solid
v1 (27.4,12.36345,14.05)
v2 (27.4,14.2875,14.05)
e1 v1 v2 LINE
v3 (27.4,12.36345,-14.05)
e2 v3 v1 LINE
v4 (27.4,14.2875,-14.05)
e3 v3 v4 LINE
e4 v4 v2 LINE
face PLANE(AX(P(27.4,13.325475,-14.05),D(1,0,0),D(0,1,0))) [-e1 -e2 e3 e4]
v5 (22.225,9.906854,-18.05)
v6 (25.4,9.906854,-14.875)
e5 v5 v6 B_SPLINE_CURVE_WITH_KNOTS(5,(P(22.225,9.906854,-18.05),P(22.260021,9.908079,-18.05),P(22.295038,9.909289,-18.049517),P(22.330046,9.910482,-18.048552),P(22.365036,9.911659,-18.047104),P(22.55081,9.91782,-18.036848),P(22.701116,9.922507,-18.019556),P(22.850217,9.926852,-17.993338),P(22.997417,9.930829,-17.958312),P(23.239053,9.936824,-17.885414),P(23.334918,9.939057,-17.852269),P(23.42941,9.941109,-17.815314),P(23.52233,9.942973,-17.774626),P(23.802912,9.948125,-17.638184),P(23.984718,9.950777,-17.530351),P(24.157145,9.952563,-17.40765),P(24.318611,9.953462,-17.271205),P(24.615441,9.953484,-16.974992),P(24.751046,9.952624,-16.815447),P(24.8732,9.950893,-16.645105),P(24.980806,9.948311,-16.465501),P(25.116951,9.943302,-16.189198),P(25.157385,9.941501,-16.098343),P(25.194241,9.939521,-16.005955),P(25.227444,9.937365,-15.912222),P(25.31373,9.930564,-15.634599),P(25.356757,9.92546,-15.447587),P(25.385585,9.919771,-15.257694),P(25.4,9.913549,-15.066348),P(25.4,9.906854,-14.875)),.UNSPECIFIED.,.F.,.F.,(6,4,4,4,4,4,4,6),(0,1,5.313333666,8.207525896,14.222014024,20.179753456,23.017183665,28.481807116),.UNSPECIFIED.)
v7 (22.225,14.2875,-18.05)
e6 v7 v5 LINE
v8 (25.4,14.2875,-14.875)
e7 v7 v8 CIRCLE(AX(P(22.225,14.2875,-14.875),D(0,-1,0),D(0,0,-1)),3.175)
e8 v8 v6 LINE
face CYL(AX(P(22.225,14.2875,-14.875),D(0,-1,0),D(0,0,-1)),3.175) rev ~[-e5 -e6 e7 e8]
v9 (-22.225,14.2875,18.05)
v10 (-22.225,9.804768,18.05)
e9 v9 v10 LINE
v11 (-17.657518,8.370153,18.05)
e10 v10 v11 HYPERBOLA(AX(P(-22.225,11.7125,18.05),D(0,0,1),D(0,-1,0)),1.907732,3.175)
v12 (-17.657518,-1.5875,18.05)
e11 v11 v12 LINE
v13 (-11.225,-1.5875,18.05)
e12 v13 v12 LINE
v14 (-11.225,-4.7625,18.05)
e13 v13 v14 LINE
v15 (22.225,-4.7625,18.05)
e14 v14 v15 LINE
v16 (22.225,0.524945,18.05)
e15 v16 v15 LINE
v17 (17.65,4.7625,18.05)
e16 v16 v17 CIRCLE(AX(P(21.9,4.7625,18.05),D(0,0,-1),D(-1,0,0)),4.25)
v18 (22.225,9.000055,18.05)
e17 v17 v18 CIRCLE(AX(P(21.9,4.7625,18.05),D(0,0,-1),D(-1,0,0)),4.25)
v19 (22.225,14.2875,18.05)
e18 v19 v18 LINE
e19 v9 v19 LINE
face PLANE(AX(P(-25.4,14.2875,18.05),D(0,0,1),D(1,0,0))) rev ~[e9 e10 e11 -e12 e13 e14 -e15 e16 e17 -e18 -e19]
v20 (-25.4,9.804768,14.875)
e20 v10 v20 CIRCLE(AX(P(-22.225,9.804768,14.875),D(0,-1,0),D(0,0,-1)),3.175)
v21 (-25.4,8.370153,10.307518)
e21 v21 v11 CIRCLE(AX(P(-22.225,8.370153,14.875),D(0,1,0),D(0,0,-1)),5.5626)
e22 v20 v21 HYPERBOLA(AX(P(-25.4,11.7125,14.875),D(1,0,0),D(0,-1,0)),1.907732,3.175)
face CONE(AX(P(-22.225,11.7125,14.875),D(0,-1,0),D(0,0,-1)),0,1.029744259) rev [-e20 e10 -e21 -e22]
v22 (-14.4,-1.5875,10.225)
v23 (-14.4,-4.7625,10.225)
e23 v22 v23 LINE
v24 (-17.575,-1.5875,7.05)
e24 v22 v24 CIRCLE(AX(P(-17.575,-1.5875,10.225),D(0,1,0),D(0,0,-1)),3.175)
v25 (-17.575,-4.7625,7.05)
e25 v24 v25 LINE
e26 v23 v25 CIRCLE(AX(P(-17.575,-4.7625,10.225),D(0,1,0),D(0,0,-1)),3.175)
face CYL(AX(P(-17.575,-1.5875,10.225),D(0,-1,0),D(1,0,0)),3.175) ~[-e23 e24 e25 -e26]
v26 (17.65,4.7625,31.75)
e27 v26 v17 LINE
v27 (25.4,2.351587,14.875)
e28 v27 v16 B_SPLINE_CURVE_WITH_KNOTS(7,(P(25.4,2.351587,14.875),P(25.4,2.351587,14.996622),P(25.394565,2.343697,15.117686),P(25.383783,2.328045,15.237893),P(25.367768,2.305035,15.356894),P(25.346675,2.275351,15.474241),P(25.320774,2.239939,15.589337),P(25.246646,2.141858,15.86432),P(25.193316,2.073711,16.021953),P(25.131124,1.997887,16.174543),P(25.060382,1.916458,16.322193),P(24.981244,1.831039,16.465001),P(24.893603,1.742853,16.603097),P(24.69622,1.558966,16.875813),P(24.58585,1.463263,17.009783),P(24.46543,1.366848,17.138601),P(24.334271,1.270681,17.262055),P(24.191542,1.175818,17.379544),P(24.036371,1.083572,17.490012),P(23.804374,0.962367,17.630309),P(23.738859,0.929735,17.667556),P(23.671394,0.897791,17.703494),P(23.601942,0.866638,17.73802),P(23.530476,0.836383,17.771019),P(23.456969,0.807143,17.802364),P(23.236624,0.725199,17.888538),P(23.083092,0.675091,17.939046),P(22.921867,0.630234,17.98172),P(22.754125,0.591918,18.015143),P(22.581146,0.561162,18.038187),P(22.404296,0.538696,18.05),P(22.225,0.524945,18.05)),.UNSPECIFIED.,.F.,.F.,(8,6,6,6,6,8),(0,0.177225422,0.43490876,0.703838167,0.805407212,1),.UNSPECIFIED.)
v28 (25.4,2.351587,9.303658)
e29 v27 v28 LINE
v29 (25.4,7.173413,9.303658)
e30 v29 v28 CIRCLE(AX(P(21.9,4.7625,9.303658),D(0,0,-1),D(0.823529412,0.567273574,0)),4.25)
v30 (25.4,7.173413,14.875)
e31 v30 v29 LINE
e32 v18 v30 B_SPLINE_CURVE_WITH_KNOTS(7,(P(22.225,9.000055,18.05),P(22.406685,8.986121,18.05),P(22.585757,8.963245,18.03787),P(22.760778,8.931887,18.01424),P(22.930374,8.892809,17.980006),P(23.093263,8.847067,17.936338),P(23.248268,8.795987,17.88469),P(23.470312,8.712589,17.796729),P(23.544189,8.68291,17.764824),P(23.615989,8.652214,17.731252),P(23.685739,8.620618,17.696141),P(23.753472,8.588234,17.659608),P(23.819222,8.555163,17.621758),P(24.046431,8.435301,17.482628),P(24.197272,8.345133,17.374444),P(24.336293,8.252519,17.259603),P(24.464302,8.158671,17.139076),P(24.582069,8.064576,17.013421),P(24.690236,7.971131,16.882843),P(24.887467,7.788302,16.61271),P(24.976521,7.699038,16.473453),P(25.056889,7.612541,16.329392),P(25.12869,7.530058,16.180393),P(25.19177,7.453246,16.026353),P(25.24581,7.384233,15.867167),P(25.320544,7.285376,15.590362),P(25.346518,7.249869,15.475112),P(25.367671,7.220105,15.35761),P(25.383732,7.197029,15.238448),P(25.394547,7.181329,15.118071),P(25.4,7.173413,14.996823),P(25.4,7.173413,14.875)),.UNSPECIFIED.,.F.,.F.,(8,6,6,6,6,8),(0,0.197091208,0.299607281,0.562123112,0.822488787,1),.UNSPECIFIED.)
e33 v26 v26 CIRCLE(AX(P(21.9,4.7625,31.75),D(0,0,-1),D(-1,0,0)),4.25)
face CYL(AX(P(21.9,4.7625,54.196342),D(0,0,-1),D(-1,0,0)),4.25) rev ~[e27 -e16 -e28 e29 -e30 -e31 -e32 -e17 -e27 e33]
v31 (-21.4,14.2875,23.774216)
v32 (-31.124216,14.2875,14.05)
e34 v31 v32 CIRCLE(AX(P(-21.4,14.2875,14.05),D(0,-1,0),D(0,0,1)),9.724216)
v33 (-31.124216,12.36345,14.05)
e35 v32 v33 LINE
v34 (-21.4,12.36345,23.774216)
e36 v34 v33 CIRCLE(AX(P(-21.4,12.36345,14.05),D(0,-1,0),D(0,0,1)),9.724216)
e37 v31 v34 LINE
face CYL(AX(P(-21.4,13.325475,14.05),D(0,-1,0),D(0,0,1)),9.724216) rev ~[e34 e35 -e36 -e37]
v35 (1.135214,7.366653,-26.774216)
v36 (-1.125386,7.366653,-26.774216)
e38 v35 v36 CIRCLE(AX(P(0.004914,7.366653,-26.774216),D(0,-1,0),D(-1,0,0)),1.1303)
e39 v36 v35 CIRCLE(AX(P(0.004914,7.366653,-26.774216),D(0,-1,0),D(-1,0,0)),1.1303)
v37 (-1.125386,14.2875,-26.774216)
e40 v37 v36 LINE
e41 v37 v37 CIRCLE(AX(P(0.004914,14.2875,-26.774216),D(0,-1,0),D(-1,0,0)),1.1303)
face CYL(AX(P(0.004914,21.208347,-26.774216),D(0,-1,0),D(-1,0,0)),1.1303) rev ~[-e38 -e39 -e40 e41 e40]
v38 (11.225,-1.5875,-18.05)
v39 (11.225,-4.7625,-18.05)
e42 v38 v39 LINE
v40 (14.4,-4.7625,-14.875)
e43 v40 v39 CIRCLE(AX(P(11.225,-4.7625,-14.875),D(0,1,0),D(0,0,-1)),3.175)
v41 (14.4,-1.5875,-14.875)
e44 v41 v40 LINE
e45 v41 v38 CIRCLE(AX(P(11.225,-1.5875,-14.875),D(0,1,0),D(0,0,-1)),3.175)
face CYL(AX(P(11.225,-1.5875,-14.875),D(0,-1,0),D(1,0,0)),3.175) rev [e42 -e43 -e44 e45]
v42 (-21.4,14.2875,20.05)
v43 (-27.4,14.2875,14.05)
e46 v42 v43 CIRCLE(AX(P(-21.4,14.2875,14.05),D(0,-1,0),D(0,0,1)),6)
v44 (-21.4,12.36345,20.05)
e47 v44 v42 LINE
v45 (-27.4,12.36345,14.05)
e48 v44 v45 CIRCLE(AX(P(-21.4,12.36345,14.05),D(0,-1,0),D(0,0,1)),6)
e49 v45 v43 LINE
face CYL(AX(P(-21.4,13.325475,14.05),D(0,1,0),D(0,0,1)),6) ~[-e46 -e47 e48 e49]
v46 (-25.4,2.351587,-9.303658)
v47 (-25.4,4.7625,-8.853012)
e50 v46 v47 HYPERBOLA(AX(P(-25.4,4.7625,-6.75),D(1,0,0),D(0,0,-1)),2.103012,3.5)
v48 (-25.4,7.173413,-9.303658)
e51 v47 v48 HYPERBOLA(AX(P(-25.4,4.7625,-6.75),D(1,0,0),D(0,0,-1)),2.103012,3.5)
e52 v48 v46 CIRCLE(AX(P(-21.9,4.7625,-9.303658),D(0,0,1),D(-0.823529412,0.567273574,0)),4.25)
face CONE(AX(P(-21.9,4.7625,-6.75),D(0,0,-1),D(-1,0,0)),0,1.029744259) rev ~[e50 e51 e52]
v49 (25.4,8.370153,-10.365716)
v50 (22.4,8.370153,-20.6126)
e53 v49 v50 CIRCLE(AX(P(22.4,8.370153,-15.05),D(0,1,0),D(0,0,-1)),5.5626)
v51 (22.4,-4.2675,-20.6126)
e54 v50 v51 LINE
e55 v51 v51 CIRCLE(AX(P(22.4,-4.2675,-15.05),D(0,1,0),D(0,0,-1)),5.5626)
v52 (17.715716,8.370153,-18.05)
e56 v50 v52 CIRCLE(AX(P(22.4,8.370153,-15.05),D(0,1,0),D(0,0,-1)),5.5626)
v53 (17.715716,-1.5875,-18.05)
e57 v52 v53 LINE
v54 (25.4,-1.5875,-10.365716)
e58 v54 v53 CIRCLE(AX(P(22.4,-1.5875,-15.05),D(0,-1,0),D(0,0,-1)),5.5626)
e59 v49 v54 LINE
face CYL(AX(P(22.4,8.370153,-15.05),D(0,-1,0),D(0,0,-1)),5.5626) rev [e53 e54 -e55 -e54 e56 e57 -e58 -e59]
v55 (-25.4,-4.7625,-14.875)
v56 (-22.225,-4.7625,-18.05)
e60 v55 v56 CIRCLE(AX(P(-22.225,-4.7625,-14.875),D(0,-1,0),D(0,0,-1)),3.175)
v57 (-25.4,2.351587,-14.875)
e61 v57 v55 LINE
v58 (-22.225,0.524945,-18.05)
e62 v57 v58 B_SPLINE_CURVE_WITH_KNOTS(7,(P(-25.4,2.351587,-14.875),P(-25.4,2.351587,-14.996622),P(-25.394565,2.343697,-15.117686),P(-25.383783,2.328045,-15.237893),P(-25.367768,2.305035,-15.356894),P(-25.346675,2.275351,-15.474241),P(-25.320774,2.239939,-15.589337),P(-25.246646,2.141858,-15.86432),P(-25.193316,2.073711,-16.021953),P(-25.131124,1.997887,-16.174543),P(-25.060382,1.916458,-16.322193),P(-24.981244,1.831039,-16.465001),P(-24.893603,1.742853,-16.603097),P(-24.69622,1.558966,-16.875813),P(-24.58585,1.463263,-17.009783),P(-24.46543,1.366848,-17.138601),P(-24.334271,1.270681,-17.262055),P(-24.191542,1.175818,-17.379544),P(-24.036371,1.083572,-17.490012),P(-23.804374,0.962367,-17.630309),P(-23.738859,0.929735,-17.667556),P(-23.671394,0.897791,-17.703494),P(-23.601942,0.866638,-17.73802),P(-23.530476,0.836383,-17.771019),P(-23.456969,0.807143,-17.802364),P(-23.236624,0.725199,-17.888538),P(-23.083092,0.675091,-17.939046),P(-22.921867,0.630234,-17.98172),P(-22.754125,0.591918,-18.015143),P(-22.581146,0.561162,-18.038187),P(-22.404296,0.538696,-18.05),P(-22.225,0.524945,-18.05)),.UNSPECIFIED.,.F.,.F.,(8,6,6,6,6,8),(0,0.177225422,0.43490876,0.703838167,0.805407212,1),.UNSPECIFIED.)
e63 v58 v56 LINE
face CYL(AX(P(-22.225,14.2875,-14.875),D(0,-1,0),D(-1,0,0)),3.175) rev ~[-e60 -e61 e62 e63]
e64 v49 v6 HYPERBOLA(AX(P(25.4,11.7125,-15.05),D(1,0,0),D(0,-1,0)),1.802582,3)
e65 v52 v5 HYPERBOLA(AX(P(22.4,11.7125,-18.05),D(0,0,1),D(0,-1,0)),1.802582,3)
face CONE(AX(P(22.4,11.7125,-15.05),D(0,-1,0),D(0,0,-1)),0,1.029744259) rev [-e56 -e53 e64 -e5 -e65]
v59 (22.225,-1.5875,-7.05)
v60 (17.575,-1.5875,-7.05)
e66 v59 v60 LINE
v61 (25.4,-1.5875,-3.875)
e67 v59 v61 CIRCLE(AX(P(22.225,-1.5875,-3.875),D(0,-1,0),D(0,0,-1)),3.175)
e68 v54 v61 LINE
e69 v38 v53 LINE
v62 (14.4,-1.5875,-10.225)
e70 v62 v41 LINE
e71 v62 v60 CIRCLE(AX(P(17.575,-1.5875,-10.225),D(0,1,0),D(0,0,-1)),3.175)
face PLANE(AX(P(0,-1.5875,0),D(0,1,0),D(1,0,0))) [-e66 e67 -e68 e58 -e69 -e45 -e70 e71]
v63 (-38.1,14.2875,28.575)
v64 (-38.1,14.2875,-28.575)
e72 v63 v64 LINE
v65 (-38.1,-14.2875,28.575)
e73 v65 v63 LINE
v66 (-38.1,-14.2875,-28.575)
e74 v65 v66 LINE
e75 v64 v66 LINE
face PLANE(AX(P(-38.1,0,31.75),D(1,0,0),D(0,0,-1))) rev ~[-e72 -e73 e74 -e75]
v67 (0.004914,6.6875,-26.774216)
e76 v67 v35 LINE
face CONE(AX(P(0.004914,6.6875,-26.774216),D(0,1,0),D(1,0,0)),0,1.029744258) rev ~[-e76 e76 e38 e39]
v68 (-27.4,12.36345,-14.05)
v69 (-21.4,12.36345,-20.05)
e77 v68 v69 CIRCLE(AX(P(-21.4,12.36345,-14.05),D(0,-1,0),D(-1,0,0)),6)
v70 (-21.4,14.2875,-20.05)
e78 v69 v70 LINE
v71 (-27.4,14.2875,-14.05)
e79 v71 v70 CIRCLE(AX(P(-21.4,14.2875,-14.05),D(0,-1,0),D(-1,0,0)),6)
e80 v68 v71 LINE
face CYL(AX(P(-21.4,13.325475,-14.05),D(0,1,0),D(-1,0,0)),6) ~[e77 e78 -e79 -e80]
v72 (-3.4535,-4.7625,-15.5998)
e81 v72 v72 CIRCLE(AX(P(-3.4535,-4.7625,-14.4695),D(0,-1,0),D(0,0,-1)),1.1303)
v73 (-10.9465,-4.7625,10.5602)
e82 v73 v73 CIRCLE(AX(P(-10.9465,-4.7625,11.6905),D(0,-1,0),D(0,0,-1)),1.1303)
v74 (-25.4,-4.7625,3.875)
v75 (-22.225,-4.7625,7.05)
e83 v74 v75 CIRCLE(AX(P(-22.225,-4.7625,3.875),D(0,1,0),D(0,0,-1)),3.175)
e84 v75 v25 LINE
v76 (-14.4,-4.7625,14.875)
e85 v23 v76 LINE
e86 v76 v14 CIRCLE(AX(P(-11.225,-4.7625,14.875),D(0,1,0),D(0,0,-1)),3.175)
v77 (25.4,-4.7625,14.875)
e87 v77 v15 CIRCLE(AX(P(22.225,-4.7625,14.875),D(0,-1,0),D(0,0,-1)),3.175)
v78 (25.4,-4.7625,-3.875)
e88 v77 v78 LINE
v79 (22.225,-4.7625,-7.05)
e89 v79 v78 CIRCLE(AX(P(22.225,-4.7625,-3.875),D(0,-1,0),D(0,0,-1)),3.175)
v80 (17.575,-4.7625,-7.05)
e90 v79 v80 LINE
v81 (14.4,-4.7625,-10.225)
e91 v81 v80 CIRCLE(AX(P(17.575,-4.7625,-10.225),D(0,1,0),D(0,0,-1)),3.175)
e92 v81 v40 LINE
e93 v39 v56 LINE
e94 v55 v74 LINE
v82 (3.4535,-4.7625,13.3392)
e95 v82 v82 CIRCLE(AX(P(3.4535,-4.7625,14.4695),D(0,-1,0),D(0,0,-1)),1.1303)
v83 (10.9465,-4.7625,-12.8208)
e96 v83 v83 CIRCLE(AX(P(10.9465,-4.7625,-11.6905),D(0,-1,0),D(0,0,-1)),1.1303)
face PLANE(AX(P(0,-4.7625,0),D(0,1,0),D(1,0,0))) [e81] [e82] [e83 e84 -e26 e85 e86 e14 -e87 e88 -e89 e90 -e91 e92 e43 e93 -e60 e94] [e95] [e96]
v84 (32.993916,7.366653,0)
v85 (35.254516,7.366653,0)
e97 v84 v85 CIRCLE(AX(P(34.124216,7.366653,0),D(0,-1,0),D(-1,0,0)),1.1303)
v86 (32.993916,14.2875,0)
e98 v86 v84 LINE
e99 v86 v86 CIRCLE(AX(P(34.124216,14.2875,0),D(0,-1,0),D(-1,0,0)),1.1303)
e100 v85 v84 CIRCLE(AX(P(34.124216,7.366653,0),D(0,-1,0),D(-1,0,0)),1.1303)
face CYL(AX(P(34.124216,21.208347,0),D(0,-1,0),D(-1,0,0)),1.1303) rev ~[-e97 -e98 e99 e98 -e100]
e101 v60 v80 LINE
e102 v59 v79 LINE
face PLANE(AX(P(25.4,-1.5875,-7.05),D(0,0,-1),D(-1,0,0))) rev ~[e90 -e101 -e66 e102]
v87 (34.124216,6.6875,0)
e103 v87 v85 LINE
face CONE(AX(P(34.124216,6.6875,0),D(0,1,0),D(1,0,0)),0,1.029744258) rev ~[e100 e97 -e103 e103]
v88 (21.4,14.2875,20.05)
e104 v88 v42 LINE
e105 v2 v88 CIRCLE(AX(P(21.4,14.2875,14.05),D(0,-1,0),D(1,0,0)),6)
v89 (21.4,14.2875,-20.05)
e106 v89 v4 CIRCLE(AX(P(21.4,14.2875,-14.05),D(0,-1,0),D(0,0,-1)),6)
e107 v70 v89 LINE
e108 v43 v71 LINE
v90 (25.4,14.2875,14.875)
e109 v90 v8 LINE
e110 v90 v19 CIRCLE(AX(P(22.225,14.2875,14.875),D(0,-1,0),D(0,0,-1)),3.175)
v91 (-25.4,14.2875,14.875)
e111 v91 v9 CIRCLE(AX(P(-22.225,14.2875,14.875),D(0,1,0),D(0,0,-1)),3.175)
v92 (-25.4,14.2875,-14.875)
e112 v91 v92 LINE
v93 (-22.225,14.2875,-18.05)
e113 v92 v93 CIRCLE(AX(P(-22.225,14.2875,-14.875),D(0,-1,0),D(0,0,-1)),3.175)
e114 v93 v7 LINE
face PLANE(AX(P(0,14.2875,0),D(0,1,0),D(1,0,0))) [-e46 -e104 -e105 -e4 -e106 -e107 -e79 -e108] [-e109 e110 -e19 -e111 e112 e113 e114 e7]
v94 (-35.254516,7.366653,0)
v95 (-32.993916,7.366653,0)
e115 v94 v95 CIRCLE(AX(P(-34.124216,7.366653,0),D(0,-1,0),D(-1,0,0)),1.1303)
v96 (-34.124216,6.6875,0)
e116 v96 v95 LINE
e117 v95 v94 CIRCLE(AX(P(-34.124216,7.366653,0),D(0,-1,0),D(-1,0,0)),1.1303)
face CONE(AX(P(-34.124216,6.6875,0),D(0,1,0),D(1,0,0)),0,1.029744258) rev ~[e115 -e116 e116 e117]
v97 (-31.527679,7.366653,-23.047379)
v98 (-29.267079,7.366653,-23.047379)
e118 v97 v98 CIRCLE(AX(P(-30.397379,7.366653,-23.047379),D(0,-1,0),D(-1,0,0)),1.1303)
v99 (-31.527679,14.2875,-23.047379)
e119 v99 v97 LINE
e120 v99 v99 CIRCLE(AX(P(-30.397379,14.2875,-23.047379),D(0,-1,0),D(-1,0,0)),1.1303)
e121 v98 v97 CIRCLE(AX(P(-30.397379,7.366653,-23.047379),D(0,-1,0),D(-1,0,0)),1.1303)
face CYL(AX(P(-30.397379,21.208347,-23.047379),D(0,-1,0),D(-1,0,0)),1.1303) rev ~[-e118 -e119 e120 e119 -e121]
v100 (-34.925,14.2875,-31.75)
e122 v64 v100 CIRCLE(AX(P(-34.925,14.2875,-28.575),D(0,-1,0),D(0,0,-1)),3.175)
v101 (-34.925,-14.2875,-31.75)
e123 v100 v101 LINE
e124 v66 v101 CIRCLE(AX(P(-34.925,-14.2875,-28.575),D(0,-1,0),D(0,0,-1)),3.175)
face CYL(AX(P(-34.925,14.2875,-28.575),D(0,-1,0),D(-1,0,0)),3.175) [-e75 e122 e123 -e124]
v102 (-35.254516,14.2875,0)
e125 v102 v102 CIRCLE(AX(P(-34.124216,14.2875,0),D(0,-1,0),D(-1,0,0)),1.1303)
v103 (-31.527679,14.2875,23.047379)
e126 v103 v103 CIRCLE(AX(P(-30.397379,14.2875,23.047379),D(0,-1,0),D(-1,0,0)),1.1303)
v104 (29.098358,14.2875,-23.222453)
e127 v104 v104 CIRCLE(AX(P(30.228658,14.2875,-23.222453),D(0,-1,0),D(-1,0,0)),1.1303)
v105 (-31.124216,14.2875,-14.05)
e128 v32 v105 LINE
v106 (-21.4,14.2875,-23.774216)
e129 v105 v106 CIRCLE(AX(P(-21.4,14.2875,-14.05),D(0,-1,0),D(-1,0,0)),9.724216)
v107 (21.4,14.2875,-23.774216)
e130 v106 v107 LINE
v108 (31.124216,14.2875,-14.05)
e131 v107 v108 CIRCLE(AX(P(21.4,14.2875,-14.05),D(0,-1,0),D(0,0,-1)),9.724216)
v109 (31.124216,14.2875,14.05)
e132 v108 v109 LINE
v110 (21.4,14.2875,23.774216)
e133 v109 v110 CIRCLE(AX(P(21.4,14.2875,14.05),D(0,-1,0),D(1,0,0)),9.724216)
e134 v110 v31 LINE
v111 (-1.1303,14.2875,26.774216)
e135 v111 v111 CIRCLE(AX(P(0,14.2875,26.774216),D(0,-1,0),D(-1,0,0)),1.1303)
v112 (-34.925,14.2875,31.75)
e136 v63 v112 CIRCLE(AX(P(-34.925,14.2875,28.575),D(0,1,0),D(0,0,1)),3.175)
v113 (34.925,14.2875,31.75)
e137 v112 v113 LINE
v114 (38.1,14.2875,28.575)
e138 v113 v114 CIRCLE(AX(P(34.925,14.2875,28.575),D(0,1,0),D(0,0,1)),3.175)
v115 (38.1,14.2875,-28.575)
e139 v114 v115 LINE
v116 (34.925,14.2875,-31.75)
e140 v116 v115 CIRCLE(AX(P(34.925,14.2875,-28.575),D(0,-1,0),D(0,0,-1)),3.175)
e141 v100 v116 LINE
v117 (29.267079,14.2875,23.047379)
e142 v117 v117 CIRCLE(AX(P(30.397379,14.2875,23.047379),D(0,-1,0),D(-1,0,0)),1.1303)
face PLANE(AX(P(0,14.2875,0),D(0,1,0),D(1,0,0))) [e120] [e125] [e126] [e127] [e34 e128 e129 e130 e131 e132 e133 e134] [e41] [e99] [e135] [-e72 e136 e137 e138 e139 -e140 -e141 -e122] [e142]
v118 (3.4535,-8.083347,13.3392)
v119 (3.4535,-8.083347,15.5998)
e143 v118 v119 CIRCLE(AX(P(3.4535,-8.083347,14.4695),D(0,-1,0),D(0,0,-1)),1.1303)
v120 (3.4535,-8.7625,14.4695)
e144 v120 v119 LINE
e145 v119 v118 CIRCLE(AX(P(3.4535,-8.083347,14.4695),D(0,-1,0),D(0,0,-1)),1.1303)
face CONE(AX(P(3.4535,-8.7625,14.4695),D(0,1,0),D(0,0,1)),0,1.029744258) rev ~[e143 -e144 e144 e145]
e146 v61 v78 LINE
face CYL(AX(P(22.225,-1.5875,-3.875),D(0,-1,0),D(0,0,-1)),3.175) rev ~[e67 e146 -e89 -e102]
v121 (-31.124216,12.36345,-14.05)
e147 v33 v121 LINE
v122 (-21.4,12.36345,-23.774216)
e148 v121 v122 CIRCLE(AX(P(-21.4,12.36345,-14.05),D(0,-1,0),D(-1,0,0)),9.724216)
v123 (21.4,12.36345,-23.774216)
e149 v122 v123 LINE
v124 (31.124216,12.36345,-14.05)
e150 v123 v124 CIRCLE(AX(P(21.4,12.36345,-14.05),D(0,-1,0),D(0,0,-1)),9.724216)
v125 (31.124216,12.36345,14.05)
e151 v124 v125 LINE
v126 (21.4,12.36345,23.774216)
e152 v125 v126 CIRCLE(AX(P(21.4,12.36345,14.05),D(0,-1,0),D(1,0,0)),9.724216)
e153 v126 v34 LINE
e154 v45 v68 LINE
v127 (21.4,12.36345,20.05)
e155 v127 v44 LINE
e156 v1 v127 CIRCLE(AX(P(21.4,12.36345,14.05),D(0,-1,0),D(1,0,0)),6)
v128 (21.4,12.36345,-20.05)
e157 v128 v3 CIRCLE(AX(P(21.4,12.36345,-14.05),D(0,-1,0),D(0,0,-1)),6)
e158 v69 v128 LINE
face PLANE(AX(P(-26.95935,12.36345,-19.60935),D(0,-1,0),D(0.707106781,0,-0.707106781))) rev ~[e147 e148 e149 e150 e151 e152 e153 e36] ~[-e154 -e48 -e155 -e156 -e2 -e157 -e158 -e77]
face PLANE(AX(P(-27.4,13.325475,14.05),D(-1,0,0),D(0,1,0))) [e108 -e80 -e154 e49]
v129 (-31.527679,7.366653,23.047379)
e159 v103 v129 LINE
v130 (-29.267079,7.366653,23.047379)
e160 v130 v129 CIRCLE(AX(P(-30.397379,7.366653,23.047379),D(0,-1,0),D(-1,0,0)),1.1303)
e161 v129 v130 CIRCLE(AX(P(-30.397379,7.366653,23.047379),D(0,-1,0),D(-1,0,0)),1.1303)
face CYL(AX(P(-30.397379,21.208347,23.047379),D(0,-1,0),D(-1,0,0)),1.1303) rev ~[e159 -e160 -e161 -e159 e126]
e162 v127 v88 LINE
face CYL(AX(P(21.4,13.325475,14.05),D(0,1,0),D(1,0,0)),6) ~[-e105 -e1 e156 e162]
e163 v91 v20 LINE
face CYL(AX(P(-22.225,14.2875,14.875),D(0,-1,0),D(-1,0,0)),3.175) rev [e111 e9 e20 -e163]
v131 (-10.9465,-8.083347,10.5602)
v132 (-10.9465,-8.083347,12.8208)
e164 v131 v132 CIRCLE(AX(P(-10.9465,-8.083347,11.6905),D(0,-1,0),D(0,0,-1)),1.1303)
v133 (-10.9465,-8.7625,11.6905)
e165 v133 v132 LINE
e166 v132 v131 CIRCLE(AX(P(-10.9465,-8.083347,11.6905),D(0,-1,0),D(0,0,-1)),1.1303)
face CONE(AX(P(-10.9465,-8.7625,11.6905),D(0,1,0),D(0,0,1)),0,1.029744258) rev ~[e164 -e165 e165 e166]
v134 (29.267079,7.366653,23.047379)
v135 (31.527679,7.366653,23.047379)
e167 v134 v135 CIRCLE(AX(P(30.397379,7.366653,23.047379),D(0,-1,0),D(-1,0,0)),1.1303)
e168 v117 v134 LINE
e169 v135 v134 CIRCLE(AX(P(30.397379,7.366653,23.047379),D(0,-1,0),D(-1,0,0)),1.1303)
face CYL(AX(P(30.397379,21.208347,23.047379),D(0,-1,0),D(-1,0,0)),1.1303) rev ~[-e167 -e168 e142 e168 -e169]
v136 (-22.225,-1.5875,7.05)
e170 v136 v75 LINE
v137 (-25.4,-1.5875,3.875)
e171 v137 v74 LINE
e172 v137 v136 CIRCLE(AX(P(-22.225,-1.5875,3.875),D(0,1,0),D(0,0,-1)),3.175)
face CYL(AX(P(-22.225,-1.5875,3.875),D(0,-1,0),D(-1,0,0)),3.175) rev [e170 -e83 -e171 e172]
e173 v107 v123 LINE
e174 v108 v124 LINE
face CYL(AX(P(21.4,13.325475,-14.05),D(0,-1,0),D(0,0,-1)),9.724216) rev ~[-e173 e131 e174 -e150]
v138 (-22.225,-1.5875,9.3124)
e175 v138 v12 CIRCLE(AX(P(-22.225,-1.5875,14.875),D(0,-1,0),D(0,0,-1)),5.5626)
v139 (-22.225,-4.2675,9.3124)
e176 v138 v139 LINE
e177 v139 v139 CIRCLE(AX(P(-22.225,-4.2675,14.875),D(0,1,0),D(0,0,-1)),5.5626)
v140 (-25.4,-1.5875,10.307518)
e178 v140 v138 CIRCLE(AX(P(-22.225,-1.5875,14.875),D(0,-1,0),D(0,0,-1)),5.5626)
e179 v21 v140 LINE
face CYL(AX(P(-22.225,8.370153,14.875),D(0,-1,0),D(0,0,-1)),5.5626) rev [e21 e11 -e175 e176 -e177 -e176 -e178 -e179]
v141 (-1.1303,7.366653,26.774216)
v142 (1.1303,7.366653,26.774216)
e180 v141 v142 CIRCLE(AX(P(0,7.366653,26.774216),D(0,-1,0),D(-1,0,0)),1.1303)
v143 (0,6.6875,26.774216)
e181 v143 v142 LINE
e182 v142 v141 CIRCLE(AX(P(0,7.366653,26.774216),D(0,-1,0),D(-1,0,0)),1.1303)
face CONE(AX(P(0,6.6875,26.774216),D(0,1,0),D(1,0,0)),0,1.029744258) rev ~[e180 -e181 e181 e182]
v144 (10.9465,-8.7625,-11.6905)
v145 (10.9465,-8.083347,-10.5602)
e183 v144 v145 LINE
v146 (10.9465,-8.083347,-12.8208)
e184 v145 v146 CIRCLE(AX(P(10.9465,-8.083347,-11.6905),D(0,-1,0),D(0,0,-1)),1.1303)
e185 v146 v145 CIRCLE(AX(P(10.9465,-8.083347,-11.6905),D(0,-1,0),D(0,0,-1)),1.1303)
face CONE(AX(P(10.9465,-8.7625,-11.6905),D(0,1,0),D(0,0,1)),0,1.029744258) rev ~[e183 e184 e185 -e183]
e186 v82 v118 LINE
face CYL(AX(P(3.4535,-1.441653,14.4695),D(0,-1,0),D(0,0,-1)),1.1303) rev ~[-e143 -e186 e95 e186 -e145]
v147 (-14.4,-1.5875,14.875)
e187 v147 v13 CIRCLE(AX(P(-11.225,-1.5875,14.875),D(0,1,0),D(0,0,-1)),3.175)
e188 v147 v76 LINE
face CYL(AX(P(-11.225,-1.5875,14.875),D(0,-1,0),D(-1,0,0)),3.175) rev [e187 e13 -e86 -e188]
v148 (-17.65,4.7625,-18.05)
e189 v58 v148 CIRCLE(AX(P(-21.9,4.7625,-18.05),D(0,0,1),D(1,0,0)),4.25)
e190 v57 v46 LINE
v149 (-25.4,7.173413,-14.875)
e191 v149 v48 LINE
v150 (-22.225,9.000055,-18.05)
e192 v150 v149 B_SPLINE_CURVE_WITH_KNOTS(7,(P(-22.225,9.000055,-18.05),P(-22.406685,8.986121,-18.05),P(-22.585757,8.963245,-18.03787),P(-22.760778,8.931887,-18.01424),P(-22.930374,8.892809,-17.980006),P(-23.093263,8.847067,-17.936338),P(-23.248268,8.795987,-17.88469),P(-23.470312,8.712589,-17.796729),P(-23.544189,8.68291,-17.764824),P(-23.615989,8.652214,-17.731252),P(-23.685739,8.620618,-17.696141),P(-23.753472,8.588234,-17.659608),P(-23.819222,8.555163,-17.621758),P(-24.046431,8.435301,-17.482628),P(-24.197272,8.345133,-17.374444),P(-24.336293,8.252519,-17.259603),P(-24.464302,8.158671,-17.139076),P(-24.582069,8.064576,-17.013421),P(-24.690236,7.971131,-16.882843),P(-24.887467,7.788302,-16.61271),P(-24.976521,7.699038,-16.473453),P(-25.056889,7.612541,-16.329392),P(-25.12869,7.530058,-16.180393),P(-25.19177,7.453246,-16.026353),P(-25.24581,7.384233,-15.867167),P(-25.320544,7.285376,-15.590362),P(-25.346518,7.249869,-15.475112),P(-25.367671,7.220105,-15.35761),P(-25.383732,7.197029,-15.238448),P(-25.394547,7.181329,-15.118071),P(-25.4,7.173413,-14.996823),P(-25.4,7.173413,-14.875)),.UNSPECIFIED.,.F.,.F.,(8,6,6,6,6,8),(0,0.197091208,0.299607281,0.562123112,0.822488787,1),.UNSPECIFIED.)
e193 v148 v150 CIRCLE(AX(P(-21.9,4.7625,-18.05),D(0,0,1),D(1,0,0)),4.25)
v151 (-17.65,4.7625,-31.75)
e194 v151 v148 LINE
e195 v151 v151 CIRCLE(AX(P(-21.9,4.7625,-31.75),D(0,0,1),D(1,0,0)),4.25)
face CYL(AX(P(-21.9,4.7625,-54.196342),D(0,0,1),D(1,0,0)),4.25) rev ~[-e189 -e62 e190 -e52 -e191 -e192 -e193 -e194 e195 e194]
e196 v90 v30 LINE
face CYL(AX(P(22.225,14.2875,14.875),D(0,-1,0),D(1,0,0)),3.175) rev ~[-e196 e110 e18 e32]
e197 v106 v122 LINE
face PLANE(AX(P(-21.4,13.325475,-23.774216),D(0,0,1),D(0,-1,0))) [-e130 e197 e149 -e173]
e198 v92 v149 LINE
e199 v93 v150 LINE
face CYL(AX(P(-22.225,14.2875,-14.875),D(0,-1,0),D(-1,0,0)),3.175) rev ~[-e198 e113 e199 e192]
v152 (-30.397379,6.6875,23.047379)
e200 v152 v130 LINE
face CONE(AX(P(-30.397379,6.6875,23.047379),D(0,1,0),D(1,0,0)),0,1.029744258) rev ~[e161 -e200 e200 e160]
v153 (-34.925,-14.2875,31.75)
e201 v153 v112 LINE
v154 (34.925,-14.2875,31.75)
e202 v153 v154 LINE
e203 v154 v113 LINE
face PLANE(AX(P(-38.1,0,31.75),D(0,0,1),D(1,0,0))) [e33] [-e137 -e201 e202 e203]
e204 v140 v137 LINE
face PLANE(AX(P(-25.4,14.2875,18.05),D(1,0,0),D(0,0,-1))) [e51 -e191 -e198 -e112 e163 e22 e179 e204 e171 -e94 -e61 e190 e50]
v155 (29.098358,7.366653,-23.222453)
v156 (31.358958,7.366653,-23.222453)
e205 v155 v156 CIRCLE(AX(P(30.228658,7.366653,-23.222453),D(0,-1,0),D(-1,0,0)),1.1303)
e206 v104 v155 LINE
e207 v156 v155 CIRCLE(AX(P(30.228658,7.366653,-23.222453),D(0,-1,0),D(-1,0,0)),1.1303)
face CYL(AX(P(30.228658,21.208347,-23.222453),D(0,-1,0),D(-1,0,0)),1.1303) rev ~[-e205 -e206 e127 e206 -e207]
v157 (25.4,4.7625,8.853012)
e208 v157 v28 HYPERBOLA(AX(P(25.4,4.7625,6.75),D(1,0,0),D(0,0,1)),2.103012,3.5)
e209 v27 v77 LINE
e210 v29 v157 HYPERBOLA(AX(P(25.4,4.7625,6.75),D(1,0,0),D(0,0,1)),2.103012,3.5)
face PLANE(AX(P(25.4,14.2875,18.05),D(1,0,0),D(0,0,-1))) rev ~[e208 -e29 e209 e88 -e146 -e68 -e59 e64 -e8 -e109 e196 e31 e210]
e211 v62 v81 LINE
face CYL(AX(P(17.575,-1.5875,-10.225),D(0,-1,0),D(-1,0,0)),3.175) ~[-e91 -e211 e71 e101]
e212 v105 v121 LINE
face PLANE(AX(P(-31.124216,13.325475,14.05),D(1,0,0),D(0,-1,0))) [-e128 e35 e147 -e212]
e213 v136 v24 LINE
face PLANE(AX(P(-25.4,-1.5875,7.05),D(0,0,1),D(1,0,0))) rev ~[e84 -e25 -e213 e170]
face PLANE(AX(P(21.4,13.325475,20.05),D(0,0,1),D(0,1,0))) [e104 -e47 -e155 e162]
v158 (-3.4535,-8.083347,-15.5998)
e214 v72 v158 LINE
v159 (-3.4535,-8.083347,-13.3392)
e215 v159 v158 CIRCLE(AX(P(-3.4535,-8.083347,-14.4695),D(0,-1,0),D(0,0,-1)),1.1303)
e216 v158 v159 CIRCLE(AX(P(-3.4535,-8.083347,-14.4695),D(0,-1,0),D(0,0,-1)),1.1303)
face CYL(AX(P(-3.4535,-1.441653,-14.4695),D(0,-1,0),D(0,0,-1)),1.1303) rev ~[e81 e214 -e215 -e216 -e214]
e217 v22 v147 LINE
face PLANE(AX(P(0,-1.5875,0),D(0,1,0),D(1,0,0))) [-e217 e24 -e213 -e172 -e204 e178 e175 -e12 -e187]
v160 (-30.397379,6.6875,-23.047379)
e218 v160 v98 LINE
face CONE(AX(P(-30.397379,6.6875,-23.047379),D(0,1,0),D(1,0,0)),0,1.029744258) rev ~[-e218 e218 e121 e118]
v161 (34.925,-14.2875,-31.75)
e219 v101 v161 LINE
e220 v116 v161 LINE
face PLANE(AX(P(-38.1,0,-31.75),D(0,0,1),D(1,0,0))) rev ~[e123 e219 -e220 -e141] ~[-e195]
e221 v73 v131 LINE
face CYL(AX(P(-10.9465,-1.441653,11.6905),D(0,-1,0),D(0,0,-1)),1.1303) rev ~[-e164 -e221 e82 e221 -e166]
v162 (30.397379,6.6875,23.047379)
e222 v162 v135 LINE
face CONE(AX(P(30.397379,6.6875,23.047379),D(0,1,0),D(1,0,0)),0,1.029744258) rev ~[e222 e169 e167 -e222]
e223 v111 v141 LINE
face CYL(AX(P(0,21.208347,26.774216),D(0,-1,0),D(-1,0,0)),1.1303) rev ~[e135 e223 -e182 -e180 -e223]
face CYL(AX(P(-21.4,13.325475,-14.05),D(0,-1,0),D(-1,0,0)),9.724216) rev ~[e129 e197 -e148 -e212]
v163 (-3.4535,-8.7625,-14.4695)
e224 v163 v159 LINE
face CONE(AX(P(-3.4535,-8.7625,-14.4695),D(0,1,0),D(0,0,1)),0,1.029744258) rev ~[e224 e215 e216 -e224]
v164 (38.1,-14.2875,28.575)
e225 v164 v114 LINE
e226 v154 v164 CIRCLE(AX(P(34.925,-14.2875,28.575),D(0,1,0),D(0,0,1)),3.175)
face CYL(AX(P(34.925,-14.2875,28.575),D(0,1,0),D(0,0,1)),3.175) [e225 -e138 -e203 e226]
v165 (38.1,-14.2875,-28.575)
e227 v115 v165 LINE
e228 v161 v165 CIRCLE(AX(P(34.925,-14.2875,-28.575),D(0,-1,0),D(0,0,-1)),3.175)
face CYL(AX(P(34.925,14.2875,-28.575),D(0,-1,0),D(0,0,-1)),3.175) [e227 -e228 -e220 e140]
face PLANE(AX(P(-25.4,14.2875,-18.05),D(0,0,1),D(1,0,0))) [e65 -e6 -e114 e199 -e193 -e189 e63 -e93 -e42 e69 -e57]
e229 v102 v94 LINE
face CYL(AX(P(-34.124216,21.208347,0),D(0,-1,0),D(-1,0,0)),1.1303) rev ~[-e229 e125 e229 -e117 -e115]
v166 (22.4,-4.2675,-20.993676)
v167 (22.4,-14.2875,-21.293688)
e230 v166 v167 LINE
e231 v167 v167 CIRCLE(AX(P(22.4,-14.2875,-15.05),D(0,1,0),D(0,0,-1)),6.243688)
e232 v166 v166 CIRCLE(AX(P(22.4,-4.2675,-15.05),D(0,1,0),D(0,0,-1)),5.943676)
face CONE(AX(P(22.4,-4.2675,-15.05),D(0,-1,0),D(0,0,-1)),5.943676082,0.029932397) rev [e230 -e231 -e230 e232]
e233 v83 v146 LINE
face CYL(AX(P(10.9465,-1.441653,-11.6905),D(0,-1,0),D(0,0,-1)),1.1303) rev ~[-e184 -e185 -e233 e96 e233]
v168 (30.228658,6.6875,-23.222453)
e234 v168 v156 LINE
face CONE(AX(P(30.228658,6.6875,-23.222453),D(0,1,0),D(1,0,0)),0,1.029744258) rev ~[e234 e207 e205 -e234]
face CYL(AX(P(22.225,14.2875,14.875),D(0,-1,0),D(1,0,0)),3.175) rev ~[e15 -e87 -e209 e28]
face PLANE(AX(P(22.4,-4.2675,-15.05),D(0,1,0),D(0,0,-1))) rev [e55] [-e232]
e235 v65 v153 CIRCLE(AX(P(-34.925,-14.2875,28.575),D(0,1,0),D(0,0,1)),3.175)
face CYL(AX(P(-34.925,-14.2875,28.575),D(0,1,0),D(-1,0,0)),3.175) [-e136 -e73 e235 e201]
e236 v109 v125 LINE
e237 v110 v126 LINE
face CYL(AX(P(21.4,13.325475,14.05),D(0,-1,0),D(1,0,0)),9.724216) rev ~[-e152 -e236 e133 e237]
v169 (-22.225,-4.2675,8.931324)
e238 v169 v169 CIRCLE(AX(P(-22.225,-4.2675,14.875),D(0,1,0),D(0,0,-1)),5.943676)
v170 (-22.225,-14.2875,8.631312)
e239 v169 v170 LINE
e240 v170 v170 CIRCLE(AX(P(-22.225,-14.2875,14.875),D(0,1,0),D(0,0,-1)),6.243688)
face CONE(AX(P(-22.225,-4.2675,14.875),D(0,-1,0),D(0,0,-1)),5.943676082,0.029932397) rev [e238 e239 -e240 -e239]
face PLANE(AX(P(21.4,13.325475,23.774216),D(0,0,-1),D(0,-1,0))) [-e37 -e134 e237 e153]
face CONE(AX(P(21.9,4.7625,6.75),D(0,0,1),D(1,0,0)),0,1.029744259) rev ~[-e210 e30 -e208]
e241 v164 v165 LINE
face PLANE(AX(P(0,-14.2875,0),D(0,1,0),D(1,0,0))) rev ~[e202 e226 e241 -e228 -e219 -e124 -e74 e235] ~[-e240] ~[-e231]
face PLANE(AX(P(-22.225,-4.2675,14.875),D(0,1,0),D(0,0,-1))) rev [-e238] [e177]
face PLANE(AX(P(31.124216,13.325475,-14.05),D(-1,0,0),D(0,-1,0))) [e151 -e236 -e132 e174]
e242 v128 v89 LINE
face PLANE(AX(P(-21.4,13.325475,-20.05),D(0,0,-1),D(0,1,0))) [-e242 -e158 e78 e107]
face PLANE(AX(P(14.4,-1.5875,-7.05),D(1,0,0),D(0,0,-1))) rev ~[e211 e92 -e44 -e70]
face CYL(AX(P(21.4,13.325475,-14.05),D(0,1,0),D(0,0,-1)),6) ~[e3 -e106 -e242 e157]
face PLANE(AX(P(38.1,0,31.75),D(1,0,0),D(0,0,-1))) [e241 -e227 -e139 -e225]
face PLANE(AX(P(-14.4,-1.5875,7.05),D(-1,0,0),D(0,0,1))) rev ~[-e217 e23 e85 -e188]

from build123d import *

# Parameters (mm, degrees)
SKETCH1_W                            = 76.2
SKETCH1_H                            = 63.5
BOSS_EXTRUDE1_DEPTH                  = 14.2875
SKETCH2_W                            = 50.8
SKETCH2_H                            = 36.1
CUT_EXTRUDE1_DEPTH                   = 15.875
CUT_EXTRUDE2_DEPTH                   = 3.175
FILLET1_R                            = 3.175
F_4_40_TAPPED_HOLE1_D                = 2.2606
F_4_40_TAPPED_HOLE1_DEPTH            = 3.320847242
F_4_40_TAPPED_HOLE1_TIP              = 0.679152758
F_1_4_NPT_TAPPED_HOLE1_AT_2_COUNT    = 2
F_1_4_NPT_TAPPED_HOLE1_AT_2_PITCH    = 53.729845058
M10X1_5_TAPPED_HOLE1_D               = 8.5
M10X1_5_TAPPED_HOLE1_DEPTH           = 22.446342369
M10X1_5_TAPPED_HOLE1_TIP             = 2.553657631
M10X1_5_TAPPED_HOLE1_ON_FACE_2_D     = 8.5
M10X1_5_TAPPED_HOLE1_ON_FACE_2_DEPTH = 22.446342369
M10X1_5_TAPPED_HOLE1_ON_FACE_2_TIP   = 2.553657631
SKETCH16_W                           = 3.724215622
SKETCH16_H                           = 1.92405
FILLET2_R                            = 3.175
F_4_40_TAPPED_HOLE2_D                = 2.2606
F_4_40_TAPPED_HOLE2_DEPTH            = 6.920847242
F_4_40_TAPPED_HOLE2_TIP              = 0.679152758


with BuildPart() as part:
    # Sketch1 → Boss-Extrude1 (new body, symmetric)
    with BuildSketch(Plane(origin=(0, 0, 0), x_dir=(1, 0, 0), z_dir=(0, 1, 0))):
        Rectangle(SKETCH1_W, SKETCH1_H)
    extrude(amount=BOSS_EXTRUDE1_DEPTH, both=True)

    # Sketch2 → Cut-Extrude1 (cut)
    with BuildSketch(Plane(origin=(0, 14.2875, 0), x_dir=(1, 0, 0), z_dir=(0, 1, 0))):
        Rectangle(SKETCH2_W, SKETCH2_H)
    extrude(amount=-CUT_EXTRUDE1_DEPTH, mode=Mode.SUBTRACT)

    # Sketch3 → Cut-Extrude2 (cut)
    with BuildSketch(Plane(origin=(0, -1.5875, 0), x_dir=(1, 0, 0), z_dir=(0, 1, 0))):
        Polygon((-25.4, -7.05), (-14.4, -7.05), (-14.4, -18.05), (25.4, -18.05), (25.4, 7.05), (14.4, 7.05), (14.4, 18.05), (-25.4, 18.05), align=None)
    extrude(amount=-CUT_EXTRUDE2_DEPTH, mode=Mode.SUBTRACT)

    # Fillet1
    fillet1_edges = [part.edges().sort_by_distance(p)[0] for p in [
        (25.4, 6.35, -18.05),
        (25.4, 4.7625, 18.05),
        (-25.4, 6.35, 18.05),
        (-25.4, 4.7625, -18.05),
        (-14.4, -3.175, 18.05),
        (-14.4, -3.175, 7.05),
        (-25.4, -3.175, 7.05),
        (14.4, -3.175, -18.05),
        (14.4, -3.175, -7.05),
        (25.4, -3.175, -7.05),
    ]]
    fillet(fillet1_edges, radius=FILLET1_R)

    # #4-40 Tapped Hole1
    with Locations(Plane(origin=(10.9465, -4.7625, -11.6905), x_dir=(0, 0, 1), z_dir=(0, 1, 0))):
        with Locations((0, 0), (26.16, -7.493), (-2.779, -14.4), (23.381, -21.893)):
            Hole(F_4_40_TAPPED_HOLE1_D / 2, depth=F_4_40_TAPPED_HOLE1_DEPTH)
            with Locations((0, 0, -(F_4_40_TAPPED_HOLE1_DEPTH + F_4_40_TAPPED_HOLE1_TIP / 2))):  # 118° drill point
                Cone(0, F_4_40_TAPPED_HOLE1_D / 2, F_4_40_TAPPED_HOLE1_TIP, mode=Mode.SUBTRACT)

    # Sketch9 → 1/4 NPT Tapped Hole1 (revolve, cut)
    with BuildSketch(Plane(origin=(-22.225, -14.2875, 14.875), x_dir=(0, 0, -1), z_dir=(1, 0, 0))):
        Polygon((0, 0), (0, 26), (5.5626, 22.657652721), (5.5626, 10.02), (5.943676082, 10.02), (6.2436883, 0), align=None)
    f_1_4_npt_tapped_hole1 = revolve(axis=Axis((-22.225, -20.6375, 14.875), (0, 1, 0)), mode=Mode.SUBTRACT)

    # 1/4 NPT Tapped Hole1 at 2: 1/4 NPT Tapped Hole1 ×2
    with Locations(*[Vector(0.830543992, 0, -0.55695303) * (i * F_1_4_NPT_TAPPED_HOLE1_AT_2_PITCH) for i in range(1, F_1_4_NPT_TAPPED_HOLE1_AT_2_COUNT)]):
        add(f_1_4_npt_tapped_hole1, mode=Mode.SUBTRACT)

    # M10x1.5 Tapped Hole1
    with Locations(Plane(origin=(-21.9, 4.7625, -31.75), x_dir=(-1, 0, 0), z_dir=(0, 0, -1))):
        with Locations((0, 0)):
            Hole(M10X1_5_TAPPED_HOLE1_D / 2, depth=M10X1_5_TAPPED_HOLE1_DEPTH)
            with Locations((0, 0, -(M10X1_5_TAPPED_HOLE1_DEPTH + M10X1_5_TAPPED_HOLE1_TIP / 2))):  # 118° drill point
                Cone(0, M10X1_5_TAPPED_HOLE1_D / 2, M10X1_5_TAPPED_HOLE1_TIP, mode=Mode.SUBTRACT)

    # M10x1.5 Tapped Hole1 on face 2
    with Locations(Plane(origin=(21.9, 4.7625, 31.75), x_dir=(1, 0, 0), z_dir=(0, 0, 1))):
        with Locations((0, 0)):
            Hole(M10X1_5_TAPPED_HOLE1_ON_FACE_2_D / 2, depth=M10X1_5_TAPPED_HOLE1_ON_FACE_2_DEPTH)
            with Locations((0, 0, -(M10X1_5_TAPPED_HOLE1_ON_FACE_2_DEPTH + M10X1_5_TAPPED_HOLE1_ON_FACE_2_TIP / 2))):  # 118° drill point
                Cone(0, M10X1_5_TAPPED_HOLE1_ON_FACE_2_D / 2, M10X1_5_TAPPED_HOLE1_ON_FACE_2_TIP, mode=Mode.SUBTRACT)

    # Cut-Sweep1: sweep along a path in Sketch14
    with BuildLine(Plane(origin=(0, 14.2875, 0), x_dir=(1, 0, 0), z_dir=(0, 1, 0))) as cut_sweep1_path:
        Line((-21.4, 20.05), (21.4, 20.05))
        ThreePointArc((21.4, 20.05), (25.642640687, 18.292640687), (27.4, 14.05))
        Line((27.4, 14.05), (27.4, -14.05))
        ThreePointArc((27.4, -14.05), (25.642640687, -18.292640687), (21.4, -20.05))
        Line((21.4, -20.05), (-21.4, -20.05))
        ThreePointArc((-21.4, -20.05), (-25.642640687, -18.292640687), (-27.4, -14.05))
        Line((-27.4, -14.05), (-27.4, 14.05))
        ThreePointArc((-27.4, 14.05), (-25.642640687, 18.292640687), (-21.4, 20.05))
    # Sketch16 → Cut-Sweep1 (sweep, cut)
    with BuildSketch(Plane.XY):
        with Locations((-29.262107811, 13.325475)):
            Rectangle(SKETCH16_W, SKETCH16_H)
    sweep(path=cut_sweep1_path.line, mode=Mode.SUBTRACT)

    # Fillet2
    fillet2_edges = [part.edges().sort_by_distance(p)[0] for p in [
        (38.1, 0, 31.75),
        (-38.1, 0, 31.75),
        (-38.1, 0, -31.75),
        (38.1, 0, -31.75),
    ]]
    fillet(fillet2_edges, radius=FILLET2_R)

    # #4-40 Tapped Hole2
    with Locations(Plane(origin=(0, 14.2875, 0), x_dir=(1, 0, 0), z_dir=(0, 1, 0))):
        with Locations((34.124215622, 0), (30.228658441, 23.222452534), (-30.397379151, 23.047379151), (30.397379151, -23.047379151), (-30.397379151, -23.047379151), (0, -26.774215622), (-34.124215622, 0), (0.004913792, 26.774215622)):
            Hole(F_4_40_TAPPED_HOLE2_D / 2, depth=F_4_40_TAPPED_HOLE2_DEPTH)
            with Locations((0, 0, -(F_4_40_TAPPED_HOLE2_DEPTH + F_4_40_TAPPED_HOLE2_TIP / 2))):  # 118° drill point
                Cone(0, F_4_40_TAPPED_HOLE2_D / 2, F_4_40_TAPPED_HOLE2_TIP, mode=Mode.SUBTRACT)


solid = part.part
